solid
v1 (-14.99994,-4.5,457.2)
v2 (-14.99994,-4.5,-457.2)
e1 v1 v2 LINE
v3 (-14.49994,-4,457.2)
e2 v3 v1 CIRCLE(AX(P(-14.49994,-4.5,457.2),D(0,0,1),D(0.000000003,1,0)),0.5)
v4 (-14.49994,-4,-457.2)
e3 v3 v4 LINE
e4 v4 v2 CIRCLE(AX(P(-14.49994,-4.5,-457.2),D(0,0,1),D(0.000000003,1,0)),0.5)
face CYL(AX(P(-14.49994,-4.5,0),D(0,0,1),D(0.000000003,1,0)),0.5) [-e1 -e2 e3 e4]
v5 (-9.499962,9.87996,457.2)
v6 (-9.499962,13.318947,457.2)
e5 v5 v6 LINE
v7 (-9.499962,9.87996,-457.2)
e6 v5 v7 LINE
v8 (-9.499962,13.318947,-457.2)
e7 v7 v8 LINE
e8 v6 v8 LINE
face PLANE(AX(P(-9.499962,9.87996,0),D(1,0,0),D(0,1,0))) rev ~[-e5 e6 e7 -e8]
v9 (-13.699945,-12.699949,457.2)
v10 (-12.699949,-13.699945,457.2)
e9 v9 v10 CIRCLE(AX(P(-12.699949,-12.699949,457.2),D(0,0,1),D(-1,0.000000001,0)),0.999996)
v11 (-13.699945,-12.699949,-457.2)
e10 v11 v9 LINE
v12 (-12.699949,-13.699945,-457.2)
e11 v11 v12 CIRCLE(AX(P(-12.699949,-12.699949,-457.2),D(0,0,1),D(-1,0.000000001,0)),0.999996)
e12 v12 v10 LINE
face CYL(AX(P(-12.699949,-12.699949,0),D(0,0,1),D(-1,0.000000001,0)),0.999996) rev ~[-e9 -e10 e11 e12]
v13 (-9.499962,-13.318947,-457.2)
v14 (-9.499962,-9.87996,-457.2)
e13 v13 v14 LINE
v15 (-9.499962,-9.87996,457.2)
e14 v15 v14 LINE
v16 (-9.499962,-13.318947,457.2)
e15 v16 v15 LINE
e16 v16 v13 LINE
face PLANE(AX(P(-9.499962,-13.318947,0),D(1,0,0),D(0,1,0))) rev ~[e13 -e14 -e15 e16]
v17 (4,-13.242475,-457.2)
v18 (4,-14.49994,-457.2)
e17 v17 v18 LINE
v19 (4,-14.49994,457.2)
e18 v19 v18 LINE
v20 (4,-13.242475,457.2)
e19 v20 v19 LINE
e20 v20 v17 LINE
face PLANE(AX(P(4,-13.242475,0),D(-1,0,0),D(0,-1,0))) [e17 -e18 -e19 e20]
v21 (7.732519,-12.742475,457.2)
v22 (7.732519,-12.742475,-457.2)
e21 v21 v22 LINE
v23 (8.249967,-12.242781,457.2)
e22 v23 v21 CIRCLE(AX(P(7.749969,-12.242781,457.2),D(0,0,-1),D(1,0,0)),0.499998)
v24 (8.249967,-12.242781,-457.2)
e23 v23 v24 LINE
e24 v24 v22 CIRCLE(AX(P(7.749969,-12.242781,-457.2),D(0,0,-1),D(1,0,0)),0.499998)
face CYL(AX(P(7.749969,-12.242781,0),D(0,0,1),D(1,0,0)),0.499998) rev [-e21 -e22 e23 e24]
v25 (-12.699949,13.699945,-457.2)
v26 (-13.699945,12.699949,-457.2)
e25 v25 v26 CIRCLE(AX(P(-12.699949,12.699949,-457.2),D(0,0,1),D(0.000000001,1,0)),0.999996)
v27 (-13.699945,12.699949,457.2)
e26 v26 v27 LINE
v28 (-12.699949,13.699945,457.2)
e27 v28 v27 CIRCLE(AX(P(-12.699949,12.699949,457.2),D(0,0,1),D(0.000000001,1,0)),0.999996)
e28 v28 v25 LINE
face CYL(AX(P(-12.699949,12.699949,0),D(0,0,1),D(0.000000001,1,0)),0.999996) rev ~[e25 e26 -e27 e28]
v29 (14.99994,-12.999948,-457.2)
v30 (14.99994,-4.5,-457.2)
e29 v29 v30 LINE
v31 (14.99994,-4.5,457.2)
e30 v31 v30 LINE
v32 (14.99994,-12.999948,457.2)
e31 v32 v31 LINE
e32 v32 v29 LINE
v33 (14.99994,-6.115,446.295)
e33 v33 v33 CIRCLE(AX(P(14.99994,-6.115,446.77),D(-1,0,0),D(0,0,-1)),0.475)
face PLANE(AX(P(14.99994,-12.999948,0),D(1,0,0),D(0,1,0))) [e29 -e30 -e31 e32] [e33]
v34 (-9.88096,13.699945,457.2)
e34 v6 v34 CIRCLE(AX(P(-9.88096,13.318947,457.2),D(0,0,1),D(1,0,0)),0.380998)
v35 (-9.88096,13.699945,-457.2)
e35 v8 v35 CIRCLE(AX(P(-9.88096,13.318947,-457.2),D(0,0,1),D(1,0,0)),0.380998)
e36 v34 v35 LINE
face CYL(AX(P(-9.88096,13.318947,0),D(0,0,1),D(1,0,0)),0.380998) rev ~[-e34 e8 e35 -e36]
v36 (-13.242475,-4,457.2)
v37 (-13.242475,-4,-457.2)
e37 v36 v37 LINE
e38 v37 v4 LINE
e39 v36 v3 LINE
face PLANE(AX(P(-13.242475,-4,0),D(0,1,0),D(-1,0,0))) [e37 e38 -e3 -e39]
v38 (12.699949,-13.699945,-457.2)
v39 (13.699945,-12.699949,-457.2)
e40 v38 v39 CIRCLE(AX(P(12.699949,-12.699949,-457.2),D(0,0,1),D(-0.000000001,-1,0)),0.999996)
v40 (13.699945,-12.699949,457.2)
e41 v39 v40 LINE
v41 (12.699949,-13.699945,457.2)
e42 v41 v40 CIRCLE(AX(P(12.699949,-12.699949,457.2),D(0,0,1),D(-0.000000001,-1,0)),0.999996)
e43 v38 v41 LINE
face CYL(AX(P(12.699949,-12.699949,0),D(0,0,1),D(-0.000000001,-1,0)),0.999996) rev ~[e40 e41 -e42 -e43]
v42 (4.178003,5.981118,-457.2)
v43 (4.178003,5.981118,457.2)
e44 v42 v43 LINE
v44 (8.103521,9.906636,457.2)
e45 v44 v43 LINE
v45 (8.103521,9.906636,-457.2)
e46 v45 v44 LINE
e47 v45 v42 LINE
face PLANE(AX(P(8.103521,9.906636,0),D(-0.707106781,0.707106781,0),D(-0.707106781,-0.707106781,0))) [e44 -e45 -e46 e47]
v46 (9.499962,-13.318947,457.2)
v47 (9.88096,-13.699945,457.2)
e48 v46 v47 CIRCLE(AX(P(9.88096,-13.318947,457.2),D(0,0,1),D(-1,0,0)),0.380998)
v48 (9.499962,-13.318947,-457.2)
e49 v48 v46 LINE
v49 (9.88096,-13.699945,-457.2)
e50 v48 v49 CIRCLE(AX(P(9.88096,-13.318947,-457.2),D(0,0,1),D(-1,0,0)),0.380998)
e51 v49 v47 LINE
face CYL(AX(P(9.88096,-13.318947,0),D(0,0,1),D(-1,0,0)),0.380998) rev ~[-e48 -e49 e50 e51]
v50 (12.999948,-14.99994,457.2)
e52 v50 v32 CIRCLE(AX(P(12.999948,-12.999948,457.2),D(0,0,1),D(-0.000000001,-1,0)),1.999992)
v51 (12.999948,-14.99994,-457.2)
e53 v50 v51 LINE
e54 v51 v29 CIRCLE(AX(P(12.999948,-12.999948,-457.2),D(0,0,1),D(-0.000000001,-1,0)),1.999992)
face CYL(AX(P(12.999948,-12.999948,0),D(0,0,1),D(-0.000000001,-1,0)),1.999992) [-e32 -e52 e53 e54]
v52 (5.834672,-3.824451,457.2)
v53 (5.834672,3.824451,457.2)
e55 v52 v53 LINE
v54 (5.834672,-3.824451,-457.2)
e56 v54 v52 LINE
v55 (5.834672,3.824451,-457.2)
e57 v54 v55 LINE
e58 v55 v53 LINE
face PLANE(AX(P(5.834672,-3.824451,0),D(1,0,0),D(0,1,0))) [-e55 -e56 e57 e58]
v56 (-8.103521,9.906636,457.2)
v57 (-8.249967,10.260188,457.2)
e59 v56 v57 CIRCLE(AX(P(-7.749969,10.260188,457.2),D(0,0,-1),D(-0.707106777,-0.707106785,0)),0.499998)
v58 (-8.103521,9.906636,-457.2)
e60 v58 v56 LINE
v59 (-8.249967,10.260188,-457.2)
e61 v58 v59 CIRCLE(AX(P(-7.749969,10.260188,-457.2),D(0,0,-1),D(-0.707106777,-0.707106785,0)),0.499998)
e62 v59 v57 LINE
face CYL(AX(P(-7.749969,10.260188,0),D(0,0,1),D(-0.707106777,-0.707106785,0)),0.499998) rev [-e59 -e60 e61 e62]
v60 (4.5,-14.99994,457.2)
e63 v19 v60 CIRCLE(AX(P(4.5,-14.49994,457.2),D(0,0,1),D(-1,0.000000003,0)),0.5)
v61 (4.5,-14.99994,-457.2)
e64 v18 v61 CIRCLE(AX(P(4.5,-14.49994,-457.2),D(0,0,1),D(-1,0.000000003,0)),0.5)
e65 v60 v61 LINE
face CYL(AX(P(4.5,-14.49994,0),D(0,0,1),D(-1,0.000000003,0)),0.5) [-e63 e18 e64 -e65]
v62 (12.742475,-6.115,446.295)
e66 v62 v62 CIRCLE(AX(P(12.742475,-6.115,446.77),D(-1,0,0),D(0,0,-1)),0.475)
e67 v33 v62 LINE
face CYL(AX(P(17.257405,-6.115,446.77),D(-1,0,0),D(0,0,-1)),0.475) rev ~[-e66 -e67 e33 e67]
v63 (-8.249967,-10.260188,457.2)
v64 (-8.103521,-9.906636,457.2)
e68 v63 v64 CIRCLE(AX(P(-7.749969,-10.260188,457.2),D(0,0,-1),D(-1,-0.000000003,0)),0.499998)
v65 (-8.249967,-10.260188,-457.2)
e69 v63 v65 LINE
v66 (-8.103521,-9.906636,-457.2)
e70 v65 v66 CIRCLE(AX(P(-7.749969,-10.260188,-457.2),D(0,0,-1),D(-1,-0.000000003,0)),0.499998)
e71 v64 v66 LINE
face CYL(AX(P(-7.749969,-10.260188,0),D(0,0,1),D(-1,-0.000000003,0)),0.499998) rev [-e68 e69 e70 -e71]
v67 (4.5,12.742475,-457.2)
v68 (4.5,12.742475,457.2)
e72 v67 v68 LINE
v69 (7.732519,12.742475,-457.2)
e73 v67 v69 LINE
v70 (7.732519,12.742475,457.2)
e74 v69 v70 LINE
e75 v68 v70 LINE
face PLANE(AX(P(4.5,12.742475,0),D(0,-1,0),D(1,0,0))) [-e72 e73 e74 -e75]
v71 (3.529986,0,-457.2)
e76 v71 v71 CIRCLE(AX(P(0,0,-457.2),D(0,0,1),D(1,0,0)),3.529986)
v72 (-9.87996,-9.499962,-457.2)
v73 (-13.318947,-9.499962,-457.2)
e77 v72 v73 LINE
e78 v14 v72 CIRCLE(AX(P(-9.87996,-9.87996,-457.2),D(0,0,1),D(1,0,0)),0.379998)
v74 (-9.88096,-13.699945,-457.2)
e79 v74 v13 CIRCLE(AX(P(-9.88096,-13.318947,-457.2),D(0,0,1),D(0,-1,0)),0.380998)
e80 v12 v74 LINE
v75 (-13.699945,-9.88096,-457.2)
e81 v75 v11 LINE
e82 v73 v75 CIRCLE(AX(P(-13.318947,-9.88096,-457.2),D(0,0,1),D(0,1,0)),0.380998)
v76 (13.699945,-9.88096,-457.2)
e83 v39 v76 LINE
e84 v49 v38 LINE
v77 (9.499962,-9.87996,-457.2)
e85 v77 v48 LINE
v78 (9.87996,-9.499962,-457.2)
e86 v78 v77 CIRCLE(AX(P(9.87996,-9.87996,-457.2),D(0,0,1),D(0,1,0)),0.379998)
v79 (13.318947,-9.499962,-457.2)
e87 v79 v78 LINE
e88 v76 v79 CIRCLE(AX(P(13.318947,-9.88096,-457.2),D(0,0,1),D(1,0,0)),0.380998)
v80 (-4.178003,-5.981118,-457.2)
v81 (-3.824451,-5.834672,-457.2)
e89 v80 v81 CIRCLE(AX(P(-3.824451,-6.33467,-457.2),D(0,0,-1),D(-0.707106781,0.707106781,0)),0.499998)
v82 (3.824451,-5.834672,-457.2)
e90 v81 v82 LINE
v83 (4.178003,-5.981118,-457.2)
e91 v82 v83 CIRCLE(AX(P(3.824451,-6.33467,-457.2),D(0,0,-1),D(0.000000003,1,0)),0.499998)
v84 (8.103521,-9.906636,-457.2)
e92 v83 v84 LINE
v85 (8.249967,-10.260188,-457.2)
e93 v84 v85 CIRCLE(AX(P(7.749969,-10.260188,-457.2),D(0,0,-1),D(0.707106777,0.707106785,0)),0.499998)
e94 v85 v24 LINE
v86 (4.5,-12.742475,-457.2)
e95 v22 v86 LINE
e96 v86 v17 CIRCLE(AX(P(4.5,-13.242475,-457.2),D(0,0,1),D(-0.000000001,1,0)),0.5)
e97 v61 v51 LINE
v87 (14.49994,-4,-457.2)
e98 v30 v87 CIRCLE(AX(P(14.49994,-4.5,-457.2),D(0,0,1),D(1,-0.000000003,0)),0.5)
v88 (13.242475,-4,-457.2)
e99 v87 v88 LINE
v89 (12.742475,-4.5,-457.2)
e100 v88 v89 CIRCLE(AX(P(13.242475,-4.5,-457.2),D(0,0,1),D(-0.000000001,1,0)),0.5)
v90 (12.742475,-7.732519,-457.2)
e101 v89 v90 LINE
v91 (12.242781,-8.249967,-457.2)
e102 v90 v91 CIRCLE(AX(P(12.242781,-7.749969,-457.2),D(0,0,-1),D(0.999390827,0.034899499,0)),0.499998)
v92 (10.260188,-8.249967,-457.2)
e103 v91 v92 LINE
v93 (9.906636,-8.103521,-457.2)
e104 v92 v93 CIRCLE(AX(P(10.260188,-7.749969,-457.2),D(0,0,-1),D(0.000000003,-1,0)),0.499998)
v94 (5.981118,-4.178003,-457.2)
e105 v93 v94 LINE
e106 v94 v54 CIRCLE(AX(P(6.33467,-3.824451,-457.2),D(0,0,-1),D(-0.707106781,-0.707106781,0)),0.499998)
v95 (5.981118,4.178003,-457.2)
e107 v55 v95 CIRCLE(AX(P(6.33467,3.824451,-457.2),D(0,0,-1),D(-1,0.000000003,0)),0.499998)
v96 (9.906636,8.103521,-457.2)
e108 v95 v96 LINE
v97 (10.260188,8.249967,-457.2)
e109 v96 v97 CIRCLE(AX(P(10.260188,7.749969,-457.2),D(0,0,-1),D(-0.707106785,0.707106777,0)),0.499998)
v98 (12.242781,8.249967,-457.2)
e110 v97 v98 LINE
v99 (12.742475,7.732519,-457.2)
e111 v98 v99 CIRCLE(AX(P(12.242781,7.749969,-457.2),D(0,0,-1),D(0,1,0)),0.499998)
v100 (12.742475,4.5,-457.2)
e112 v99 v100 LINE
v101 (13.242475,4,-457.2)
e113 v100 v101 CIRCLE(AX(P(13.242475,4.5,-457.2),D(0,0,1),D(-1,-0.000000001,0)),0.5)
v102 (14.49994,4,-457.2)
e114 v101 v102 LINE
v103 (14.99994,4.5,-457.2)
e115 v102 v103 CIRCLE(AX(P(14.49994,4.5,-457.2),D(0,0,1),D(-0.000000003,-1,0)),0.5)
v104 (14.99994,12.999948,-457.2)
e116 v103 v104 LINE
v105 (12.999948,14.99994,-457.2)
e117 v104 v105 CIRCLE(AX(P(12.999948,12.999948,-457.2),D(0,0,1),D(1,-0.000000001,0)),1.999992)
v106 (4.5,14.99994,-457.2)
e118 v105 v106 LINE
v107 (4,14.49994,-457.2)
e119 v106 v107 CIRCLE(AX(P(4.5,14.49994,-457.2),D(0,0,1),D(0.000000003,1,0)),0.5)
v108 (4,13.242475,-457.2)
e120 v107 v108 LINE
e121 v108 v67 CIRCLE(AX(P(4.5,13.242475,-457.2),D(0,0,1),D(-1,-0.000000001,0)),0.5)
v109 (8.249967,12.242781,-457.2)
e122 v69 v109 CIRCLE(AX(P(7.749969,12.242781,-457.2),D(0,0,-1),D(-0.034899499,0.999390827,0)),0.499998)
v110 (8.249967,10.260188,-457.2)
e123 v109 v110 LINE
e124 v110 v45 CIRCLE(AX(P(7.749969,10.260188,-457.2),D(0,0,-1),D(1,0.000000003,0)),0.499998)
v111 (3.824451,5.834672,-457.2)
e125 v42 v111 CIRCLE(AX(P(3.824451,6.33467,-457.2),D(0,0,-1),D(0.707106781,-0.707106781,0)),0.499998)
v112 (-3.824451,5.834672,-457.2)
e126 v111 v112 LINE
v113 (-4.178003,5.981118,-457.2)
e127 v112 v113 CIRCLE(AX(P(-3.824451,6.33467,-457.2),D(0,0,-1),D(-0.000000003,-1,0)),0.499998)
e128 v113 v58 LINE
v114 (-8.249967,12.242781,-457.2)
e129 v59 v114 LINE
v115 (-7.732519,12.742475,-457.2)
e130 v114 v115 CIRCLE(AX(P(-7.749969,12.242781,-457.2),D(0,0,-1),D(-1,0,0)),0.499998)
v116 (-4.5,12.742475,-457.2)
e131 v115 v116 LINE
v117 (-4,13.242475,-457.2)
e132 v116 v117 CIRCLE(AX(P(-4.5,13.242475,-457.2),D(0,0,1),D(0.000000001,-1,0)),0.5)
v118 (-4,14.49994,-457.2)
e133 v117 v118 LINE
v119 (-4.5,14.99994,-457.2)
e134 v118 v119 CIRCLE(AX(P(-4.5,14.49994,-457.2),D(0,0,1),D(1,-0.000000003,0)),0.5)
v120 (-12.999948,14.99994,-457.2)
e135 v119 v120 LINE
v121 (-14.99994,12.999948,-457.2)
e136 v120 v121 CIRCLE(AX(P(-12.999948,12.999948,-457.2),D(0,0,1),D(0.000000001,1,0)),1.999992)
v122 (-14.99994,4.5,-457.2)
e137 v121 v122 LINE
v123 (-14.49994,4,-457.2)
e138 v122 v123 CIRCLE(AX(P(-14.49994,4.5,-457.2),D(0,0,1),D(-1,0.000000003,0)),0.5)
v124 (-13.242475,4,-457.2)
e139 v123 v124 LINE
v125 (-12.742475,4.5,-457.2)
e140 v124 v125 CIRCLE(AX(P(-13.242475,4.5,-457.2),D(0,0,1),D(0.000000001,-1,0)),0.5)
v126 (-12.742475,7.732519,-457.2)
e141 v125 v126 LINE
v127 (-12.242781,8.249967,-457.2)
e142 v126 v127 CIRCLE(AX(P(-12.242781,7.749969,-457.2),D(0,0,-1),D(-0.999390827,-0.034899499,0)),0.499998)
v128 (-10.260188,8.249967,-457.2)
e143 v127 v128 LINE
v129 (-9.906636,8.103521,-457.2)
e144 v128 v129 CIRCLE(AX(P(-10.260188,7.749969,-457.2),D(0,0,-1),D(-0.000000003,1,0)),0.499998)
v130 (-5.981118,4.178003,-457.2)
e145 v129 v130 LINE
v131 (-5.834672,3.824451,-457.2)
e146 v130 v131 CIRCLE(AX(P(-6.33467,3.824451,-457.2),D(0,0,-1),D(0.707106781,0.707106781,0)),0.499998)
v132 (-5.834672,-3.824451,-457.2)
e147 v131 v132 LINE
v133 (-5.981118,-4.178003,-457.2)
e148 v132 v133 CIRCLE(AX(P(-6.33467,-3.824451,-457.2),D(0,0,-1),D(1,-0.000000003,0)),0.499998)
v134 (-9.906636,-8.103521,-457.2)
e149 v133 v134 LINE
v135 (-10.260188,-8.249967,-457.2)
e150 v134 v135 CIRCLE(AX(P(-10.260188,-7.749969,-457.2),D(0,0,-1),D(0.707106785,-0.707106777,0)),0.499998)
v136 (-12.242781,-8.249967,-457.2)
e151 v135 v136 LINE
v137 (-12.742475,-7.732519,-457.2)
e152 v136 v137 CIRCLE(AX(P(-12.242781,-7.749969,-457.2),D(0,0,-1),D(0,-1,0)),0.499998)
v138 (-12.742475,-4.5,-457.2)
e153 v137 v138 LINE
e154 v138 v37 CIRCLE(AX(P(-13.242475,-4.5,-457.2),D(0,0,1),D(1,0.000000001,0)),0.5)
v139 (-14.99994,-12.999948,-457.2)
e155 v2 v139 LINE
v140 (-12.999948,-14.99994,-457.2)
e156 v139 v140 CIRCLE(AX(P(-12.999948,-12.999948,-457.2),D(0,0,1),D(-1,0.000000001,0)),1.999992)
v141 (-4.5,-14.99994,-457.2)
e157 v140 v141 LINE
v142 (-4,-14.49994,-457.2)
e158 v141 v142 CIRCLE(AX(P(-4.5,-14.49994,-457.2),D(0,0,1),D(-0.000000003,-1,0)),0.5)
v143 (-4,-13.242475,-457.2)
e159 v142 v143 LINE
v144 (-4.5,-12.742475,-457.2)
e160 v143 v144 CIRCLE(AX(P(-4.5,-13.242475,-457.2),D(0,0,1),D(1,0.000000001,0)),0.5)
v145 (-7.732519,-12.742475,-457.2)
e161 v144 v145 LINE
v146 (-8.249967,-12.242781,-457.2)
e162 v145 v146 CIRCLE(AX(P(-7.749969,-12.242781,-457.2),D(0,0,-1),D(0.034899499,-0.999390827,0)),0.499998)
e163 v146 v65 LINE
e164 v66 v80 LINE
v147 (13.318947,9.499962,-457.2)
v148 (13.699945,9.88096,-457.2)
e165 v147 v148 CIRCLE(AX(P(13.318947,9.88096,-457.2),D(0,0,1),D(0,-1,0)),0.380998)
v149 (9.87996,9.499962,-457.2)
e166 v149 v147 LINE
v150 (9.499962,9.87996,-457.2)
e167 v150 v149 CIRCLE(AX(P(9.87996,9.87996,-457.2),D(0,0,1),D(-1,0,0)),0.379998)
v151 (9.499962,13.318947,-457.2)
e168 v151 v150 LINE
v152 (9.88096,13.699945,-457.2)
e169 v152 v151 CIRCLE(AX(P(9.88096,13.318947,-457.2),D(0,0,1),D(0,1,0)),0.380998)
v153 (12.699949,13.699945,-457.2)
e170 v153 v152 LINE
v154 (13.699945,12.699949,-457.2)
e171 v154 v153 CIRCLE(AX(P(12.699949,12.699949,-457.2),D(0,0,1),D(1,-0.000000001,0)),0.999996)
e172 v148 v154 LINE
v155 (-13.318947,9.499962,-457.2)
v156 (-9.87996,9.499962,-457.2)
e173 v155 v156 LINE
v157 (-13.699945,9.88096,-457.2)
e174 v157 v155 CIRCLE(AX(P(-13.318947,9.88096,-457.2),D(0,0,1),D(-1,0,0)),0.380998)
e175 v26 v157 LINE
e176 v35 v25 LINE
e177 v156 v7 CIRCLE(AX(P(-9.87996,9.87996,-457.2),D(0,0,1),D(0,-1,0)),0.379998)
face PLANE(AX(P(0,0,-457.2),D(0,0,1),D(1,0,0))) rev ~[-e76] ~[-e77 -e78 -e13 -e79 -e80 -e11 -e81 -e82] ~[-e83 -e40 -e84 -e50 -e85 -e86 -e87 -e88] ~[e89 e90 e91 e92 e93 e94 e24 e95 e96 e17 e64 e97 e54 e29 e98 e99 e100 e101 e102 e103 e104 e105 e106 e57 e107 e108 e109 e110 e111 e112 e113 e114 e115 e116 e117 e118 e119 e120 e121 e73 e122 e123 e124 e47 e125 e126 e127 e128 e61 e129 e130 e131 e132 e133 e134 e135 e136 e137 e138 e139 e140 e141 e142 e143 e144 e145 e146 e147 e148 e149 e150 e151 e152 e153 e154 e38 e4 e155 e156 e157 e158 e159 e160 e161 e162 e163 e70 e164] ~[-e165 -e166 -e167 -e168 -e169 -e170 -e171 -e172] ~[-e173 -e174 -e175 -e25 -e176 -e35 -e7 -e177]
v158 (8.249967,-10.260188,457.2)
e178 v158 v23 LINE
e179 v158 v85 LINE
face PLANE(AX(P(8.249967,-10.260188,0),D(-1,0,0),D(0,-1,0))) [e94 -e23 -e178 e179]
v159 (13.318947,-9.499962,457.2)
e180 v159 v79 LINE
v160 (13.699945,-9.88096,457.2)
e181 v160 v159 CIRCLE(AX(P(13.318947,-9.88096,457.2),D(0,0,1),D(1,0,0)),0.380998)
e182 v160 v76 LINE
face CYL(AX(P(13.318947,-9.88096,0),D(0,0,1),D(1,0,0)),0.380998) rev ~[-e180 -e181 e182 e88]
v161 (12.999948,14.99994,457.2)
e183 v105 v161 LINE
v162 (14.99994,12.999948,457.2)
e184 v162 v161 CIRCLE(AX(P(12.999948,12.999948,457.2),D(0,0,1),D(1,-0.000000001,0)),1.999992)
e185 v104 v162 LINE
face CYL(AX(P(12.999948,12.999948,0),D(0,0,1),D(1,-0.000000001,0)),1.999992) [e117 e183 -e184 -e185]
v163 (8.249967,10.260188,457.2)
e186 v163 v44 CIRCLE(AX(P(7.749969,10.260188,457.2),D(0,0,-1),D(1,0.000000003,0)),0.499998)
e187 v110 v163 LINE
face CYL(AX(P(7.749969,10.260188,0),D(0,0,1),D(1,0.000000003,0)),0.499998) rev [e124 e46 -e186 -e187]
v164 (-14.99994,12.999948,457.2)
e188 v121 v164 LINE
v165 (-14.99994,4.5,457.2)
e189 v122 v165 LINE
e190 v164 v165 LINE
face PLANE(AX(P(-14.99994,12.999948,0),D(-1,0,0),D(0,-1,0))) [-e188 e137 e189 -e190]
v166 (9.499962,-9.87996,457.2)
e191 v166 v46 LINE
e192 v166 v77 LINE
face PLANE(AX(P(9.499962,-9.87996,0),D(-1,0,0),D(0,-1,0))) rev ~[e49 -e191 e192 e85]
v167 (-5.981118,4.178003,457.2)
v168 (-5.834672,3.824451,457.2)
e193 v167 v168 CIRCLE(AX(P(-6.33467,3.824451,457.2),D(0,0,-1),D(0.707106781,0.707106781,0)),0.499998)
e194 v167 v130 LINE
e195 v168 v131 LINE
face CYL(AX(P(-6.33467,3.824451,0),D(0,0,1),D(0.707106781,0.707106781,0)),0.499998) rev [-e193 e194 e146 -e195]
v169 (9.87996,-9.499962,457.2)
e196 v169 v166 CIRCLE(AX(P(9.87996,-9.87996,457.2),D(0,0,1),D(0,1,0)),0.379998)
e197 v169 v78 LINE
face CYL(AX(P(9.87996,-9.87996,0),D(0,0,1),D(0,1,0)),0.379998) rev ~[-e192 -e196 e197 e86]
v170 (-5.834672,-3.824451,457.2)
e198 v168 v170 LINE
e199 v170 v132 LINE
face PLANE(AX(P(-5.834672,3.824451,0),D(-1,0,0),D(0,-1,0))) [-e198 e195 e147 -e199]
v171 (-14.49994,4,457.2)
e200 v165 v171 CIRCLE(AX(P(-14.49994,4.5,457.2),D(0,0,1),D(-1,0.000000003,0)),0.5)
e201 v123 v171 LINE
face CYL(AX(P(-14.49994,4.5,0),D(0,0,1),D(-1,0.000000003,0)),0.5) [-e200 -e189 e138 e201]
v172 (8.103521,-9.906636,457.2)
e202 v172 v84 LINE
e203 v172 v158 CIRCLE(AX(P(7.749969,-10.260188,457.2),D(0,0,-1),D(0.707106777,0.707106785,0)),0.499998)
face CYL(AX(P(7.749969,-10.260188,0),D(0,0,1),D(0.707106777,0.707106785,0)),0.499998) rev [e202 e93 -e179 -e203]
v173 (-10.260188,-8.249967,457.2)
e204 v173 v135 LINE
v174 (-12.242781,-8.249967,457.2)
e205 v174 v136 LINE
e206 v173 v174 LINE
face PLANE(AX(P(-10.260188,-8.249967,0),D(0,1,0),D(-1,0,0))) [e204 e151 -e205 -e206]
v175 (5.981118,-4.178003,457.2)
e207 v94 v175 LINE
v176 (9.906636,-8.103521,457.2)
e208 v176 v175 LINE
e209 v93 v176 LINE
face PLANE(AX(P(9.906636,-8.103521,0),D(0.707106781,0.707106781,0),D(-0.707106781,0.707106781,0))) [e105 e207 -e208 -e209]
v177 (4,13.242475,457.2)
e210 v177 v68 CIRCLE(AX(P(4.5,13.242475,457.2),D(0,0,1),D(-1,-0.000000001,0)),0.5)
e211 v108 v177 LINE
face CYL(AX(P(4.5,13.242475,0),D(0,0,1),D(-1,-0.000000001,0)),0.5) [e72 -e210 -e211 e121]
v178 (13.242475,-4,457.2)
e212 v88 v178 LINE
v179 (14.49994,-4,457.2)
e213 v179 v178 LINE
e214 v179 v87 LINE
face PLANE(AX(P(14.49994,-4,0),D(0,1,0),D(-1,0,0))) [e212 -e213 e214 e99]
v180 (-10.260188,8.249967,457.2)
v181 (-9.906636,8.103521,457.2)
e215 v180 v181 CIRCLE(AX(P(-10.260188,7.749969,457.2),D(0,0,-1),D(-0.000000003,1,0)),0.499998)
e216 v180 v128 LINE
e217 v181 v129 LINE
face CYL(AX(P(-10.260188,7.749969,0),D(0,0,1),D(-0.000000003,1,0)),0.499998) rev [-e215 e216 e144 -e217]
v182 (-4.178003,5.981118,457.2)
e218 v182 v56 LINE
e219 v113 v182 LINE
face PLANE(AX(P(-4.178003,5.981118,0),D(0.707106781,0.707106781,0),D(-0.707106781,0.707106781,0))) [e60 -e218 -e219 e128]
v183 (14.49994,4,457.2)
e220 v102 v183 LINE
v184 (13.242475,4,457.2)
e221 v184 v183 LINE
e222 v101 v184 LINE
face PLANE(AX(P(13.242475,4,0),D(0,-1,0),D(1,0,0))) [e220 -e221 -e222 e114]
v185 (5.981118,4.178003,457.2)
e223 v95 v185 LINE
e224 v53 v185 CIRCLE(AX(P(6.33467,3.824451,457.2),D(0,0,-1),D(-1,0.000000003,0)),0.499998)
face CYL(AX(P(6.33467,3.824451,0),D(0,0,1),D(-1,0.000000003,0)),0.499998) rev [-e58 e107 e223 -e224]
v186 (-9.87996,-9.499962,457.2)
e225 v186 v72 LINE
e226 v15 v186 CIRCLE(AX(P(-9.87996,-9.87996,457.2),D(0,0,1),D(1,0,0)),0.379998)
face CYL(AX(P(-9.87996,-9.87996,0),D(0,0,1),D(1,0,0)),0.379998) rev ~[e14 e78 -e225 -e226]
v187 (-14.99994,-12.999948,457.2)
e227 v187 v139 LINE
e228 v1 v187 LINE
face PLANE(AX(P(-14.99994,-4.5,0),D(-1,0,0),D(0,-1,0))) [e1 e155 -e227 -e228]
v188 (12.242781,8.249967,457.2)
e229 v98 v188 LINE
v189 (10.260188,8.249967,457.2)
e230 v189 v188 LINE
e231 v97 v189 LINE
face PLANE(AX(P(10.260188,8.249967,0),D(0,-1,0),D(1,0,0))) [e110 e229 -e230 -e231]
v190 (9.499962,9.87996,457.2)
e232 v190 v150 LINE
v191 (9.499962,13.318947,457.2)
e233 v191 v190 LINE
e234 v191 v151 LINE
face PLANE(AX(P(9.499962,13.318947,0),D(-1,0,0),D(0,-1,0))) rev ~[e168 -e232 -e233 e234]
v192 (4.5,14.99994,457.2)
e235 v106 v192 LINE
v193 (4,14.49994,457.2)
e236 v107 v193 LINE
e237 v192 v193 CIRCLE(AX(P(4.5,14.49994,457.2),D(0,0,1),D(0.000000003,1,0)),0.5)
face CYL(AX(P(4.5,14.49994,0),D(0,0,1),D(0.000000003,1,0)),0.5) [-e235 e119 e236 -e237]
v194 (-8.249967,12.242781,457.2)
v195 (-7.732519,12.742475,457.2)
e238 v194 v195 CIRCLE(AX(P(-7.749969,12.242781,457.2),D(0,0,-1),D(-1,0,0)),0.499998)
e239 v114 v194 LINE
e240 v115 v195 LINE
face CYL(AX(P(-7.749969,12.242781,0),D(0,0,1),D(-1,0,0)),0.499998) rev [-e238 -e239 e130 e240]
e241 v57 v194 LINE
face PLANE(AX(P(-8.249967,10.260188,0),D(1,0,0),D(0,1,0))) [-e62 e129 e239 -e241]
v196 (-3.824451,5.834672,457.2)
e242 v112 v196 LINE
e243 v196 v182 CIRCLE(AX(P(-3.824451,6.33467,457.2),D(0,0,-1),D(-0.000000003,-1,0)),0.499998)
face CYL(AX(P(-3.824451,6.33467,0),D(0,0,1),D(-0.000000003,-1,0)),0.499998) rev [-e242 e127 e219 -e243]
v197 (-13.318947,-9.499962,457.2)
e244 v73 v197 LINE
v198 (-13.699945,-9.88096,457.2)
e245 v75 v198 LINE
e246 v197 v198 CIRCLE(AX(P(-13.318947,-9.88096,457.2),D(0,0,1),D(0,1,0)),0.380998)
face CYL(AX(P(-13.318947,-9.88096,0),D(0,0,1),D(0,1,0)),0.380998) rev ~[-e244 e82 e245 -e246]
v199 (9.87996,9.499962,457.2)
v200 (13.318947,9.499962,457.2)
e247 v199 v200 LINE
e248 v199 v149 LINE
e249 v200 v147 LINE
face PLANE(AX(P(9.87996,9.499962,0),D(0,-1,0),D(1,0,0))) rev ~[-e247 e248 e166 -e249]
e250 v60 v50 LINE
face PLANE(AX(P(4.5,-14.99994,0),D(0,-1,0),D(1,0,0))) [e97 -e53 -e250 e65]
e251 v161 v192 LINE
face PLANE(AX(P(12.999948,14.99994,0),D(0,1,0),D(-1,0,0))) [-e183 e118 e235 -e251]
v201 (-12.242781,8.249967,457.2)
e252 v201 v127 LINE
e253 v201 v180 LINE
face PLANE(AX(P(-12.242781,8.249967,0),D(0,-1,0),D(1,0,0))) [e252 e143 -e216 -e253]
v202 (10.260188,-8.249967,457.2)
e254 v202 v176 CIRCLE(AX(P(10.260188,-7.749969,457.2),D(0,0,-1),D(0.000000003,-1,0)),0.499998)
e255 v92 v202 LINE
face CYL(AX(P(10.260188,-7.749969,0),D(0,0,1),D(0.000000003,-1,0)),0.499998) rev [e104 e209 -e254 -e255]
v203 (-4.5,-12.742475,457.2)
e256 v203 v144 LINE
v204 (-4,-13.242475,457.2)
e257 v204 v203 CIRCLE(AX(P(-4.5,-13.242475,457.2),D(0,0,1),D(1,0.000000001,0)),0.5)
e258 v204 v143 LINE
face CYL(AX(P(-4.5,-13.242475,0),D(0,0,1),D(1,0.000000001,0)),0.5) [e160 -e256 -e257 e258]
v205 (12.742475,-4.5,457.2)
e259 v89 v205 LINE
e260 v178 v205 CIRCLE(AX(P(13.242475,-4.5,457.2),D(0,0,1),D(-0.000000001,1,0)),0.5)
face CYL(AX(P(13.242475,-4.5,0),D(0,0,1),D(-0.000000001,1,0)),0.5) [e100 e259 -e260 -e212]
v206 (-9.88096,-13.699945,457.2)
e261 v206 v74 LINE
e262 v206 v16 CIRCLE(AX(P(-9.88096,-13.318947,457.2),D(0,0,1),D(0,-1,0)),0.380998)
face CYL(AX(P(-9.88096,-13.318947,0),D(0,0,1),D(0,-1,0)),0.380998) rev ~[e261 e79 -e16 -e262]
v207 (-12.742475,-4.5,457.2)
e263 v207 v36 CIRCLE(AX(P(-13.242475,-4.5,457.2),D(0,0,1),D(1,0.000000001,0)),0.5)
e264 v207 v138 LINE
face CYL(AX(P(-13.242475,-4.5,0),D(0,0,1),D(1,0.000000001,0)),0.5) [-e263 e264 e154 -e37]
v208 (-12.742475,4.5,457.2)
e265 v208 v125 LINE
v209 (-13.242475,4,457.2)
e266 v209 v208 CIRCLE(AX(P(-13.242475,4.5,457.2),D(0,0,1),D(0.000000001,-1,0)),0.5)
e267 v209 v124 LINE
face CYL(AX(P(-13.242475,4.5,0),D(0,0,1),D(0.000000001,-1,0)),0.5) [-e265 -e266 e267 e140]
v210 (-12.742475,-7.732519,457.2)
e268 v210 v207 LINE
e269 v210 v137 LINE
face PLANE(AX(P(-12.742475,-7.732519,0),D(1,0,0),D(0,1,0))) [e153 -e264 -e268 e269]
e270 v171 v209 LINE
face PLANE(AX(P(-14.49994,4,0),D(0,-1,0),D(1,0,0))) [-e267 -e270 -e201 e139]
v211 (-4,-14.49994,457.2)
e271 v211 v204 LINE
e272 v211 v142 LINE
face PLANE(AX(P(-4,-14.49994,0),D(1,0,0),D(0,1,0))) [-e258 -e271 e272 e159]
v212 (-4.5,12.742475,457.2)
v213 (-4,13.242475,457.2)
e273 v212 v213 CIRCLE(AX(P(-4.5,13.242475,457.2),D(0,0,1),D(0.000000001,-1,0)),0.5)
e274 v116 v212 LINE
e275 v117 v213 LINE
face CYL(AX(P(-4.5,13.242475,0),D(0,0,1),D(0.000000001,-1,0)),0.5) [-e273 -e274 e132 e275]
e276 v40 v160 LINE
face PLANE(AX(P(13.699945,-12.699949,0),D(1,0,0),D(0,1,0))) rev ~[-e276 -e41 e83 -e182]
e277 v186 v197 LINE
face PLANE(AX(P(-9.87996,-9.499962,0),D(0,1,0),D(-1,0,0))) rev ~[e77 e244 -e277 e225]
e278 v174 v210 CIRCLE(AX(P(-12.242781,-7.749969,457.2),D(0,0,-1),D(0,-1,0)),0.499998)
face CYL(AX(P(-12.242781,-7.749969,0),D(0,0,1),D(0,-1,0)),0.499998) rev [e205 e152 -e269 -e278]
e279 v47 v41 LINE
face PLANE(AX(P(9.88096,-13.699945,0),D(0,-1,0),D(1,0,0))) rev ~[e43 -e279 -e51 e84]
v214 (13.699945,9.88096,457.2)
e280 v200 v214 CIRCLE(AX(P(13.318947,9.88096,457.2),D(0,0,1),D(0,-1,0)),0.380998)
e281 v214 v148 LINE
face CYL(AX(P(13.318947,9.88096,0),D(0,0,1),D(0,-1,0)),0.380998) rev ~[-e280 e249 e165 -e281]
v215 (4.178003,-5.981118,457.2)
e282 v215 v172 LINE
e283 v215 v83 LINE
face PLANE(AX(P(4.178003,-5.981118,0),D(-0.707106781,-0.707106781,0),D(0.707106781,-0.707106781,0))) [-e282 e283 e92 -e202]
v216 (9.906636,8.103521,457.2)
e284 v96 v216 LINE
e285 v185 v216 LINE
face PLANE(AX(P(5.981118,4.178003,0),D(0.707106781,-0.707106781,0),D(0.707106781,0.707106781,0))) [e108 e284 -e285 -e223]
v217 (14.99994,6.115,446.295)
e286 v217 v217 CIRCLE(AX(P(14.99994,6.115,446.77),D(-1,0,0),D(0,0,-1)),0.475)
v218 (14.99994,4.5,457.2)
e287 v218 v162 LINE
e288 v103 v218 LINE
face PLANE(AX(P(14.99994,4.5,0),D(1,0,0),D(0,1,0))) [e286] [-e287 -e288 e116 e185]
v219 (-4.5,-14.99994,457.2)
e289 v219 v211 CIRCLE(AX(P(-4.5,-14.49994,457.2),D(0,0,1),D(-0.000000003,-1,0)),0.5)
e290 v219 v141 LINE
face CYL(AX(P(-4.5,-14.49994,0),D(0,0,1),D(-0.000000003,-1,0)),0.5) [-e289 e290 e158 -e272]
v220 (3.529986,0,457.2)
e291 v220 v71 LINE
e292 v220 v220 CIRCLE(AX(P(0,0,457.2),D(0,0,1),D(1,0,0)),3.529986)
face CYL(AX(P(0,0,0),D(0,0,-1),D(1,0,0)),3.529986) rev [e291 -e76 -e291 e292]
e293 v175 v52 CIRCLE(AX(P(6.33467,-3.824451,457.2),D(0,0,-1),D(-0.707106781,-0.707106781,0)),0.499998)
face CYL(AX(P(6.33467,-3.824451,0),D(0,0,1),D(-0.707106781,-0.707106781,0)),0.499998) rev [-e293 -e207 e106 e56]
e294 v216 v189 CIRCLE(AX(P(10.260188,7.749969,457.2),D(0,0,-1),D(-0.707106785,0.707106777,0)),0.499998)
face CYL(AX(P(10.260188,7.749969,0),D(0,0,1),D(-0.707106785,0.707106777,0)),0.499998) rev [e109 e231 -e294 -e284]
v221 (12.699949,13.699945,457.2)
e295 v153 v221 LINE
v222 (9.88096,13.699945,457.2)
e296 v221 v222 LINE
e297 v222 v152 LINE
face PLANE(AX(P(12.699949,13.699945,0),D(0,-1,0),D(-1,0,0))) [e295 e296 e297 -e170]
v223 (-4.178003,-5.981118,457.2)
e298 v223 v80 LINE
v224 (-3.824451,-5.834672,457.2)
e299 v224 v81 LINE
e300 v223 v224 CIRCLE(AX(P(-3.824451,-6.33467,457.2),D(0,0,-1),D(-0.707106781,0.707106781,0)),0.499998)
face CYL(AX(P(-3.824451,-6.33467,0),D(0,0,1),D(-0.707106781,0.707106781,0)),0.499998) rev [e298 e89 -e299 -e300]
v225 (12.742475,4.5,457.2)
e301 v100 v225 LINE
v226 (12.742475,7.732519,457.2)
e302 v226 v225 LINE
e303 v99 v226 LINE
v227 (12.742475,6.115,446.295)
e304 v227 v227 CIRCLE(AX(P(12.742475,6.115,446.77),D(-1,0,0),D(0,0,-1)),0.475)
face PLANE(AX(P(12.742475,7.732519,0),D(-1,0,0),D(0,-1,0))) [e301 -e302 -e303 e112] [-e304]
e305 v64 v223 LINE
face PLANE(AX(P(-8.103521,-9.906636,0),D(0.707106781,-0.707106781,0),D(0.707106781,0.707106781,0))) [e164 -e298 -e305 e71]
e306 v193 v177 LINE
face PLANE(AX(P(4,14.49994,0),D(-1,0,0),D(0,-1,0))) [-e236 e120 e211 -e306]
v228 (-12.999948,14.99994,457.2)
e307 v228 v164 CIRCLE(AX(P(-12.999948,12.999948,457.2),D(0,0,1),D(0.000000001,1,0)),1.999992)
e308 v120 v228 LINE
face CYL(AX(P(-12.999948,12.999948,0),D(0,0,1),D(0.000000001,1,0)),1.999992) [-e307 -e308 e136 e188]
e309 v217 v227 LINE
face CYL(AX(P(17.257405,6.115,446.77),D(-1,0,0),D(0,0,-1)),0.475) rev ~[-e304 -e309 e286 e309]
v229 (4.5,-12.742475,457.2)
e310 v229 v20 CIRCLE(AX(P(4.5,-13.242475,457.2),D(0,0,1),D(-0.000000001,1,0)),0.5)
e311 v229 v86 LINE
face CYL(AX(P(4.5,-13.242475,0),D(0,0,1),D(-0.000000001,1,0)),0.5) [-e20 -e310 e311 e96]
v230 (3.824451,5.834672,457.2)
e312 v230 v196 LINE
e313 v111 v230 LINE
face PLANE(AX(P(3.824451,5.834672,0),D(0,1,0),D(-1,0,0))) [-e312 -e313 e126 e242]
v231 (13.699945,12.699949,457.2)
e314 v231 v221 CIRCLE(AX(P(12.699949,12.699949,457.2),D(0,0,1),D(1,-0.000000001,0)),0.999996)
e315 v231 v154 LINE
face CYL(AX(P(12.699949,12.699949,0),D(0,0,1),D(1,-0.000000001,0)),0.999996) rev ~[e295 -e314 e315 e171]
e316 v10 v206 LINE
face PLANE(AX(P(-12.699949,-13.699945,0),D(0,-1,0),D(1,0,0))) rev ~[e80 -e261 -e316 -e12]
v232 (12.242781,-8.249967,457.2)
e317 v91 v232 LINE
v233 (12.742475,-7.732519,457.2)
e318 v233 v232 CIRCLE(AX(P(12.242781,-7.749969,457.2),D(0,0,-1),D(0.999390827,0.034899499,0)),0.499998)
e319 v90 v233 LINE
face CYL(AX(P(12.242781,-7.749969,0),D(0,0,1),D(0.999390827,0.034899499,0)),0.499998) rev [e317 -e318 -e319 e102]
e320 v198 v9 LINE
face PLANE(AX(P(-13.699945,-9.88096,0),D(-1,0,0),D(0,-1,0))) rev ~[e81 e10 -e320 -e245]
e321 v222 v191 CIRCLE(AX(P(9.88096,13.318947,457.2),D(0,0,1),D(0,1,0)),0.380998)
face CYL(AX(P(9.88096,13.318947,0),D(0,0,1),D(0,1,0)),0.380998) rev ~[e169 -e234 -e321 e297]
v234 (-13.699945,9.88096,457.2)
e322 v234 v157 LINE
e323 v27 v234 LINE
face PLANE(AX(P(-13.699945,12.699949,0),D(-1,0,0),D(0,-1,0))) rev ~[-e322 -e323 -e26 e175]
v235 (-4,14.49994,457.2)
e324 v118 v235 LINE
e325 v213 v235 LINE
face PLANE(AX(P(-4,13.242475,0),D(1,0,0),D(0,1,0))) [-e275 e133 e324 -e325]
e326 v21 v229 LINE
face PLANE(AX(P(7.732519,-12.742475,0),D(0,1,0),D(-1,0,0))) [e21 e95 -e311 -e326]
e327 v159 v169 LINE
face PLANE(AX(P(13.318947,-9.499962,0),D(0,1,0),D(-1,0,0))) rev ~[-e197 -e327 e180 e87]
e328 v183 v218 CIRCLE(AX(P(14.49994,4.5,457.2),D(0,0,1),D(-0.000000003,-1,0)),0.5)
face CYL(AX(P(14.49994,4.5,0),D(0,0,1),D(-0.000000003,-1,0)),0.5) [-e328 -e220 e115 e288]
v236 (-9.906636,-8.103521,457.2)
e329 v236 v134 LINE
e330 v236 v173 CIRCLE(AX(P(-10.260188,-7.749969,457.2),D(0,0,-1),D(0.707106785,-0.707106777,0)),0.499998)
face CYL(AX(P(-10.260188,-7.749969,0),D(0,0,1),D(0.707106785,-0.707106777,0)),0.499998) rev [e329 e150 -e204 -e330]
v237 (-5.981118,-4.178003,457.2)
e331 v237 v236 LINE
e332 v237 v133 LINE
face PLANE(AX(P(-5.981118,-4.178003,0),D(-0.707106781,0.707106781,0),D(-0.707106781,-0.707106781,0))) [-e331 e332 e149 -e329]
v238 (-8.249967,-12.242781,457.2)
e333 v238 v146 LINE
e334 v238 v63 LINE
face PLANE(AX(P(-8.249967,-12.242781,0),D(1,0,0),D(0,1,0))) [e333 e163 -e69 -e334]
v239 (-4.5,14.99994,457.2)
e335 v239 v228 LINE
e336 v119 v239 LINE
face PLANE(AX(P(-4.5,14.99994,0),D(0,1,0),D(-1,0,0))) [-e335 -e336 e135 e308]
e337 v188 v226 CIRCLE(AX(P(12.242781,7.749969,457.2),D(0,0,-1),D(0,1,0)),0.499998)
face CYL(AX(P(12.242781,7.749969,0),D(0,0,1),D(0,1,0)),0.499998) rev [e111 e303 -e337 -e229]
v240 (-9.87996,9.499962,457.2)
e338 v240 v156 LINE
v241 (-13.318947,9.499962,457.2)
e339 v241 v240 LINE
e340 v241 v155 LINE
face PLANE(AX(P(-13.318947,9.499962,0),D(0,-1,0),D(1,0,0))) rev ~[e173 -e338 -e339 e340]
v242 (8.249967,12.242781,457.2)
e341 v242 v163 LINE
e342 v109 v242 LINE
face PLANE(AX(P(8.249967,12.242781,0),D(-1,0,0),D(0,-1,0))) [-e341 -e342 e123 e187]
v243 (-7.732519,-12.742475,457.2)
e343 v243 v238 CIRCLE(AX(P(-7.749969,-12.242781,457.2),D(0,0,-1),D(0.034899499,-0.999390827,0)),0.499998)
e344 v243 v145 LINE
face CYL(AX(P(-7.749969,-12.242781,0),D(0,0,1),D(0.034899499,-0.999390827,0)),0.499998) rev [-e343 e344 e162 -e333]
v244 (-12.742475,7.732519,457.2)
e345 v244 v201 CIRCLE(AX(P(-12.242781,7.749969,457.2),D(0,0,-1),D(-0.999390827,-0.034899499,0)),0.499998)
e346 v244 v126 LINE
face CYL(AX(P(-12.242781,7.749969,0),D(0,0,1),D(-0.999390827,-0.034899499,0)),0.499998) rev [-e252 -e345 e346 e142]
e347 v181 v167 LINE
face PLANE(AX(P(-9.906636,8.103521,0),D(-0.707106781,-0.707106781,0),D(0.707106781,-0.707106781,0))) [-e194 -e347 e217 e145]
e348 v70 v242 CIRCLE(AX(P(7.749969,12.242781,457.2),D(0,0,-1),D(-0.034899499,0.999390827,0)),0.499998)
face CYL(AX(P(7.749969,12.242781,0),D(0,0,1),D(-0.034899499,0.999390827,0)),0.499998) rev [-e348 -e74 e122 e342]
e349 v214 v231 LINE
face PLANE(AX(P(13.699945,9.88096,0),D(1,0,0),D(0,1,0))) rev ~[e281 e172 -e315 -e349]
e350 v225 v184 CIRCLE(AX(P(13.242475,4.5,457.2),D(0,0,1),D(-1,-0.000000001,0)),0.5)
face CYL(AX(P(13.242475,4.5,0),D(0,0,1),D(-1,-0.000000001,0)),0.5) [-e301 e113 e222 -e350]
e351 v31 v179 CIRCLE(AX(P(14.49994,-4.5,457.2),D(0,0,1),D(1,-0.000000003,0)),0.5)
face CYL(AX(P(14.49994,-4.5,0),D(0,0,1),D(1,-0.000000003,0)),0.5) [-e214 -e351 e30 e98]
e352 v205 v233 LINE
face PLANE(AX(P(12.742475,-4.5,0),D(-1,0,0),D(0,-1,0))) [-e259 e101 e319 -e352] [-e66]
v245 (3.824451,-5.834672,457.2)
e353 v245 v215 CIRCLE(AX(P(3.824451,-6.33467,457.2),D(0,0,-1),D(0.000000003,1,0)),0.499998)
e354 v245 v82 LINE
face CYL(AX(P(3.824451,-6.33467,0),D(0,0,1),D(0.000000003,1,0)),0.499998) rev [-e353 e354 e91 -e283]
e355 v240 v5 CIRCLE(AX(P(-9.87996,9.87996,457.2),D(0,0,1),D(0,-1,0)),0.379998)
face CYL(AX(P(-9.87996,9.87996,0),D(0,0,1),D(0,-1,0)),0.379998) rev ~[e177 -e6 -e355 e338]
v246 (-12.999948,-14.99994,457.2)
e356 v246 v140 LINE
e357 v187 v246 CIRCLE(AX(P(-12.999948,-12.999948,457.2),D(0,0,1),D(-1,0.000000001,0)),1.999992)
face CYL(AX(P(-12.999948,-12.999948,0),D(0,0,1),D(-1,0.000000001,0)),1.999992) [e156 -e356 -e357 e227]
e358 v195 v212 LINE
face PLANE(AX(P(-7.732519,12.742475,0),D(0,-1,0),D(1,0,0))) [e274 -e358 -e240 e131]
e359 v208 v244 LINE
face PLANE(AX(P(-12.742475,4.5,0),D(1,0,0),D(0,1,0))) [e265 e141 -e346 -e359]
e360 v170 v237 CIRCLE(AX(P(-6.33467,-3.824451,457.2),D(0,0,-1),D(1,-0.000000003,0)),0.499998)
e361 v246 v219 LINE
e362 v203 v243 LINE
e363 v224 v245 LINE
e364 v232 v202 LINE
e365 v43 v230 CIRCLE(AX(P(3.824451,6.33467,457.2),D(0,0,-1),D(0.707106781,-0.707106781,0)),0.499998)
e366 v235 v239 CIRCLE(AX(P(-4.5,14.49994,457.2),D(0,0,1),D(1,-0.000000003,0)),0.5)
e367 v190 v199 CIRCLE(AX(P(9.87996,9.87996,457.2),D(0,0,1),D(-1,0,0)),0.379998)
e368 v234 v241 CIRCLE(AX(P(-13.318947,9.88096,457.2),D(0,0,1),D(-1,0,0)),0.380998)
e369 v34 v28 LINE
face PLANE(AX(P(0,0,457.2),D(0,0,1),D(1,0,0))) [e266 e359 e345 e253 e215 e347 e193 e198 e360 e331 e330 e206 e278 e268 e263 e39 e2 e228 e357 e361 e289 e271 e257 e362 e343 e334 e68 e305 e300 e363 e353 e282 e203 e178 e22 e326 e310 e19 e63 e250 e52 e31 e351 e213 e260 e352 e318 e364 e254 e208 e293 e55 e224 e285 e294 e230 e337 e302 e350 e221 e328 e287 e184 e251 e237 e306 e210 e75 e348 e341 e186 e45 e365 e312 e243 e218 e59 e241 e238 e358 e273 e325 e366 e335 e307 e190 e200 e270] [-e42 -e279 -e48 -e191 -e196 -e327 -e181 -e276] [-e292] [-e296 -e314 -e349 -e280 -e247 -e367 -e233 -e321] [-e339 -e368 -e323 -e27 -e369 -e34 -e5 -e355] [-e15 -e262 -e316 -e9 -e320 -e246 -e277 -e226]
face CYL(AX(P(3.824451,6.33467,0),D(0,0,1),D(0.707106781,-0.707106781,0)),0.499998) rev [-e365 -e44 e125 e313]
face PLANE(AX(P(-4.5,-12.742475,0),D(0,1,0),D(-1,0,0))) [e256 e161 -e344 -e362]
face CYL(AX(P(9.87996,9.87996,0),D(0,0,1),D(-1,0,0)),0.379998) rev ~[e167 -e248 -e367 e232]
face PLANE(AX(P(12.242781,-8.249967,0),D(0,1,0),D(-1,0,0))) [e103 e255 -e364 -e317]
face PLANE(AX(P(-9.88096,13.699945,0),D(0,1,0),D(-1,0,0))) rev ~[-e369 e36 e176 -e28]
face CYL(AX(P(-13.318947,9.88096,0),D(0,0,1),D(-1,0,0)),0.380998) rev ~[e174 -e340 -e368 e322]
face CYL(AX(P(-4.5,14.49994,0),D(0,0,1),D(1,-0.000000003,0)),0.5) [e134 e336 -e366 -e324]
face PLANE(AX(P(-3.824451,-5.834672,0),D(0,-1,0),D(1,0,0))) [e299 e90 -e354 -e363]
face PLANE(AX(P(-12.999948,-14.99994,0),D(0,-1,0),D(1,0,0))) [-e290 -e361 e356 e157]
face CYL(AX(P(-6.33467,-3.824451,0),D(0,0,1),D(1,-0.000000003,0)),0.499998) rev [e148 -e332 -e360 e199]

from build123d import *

# Parameters (mm, degrees)
SKETCH1_R                    = 3.52998588
BOSS_EXTRUDE1_DEPTH          = 457.2
M1_2X0_25_TAPPED_HOLE1_D     = 0.95
M1_2X0_25_TAPPED_HOLE1_DEPTH = 2.25746535


with BuildPart() as part:
    # Sketch1 → Boss-Extrude1 (new, symmetric)
    with BuildSketch(Plane.XY):
        with BuildLine():
            Line((14.49994, -4), (13.24247465, -4))
            ThreePointArc((13.24247465, -4), (12.88892126, -4.146446609), (12.74247465, -4.5))
            Line((12.74247465, -4.5), (12.74247465, -7.732519321))
            ThreePointArc((12.74247465, -7.732519321), (12.602449697, -8.097296796), (12.242781236, -8.249967))
            Line((12.242781236, -8.249967), (10.260188032, -8.249967))
            ThreePointArc((10.260188032, -8.249967), (10.068847082, -8.211906919), (9.906636056, -8.103520976))
            Line((9.906636056, -8.103520976), (5.981117769, -4.178002689))
            ThreePointArc((5.981117769, -4.178002689), (5.872731827, -4.015791664), (5.834671745, -3.824450713))
            Line((5.834671745, -3.824450713), (5.834671745, -1.01249595))
            Line((5.834671745, -1.01249595), (5.834671745, 0.88749645))
            Line((5.834671745, 0.88749645), (5.834671745, 3.824450713))
            ThreePointArc((5.834671745, 3.824450713), (5.872731827, 4.015791664), (5.981117769, 4.178002689))
            Line((5.981117769, 4.178002689), (9.906636056, 8.103520976))
            ThreePointArc((9.906636056, 8.103520976), (10.068847082, 8.211906919), (10.260188032, 8.249967))
            Line((10.260188032, 8.249967), (12.242781236, 8.249967))
            ThreePointArc((12.242781236, 8.249967), (12.602449697, 8.097296796), (12.74247465, 7.732519321))
            Line((12.74247465, 7.732519321), (12.74247465, 4.5))
            ThreePointArc((12.74247465, 4.5), (12.88892126, 4.146446609), (13.24247465, 4))
            Line((13.24247465, 4), (14.49994, 4))
            ThreePointArc((14.49994, 4), (14.853493391, 4.146446609), (14.99994, 4.5))
            Line((14.99994, 4.5), (14.99994, 12.999948))
            ThreePointArc((14.99994, 12.999948), (14.414155906, 14.414155906), (12.999948, 14.99994))
            Line((12.999948, 14.99994), (4.5, 14.99994))
            ThreePointArc((4.5, 14.99994), (4.146446609, 14.853493391), (4, 14.49994))
            Line((4, 14.49994), (4, 13.24247465))
            ThreePointArc((4, 13.24247465), (4.146446609, 12.88892126), (4.5, 12.74247465))
            Line((4.5, 12.74247465), (7.732519321, 12.74247465))
            ThreePointArc((7.732519321, 12.74247465), (8.097296796, 12.602449697), (8.249967, 12.242781236))
            Line((8.249967, 12.242781236), (8.249967, 10.260188032))
            ThreePointArc((8.249967, 10.260188032), (8.211906919, 10.068847082), (8.103520976, 9.906636056))
            Line((8.103520976, 9.906636056), (4.178002689, 5.981117769))
            ThreePointArc((4.178002689, 5.981117769), (4.015791664, 5.872731827), (3.824450713, 5.834671745))
            Line((3.824450713, 5.834671745), (0.9499962, 5.834671745))
            Line((0.9499962, 5.834671745), (-0.9499962, 5.834671745))
            Line((-0.9499962, 5.834671745), (-3.824450713, 5.834671745))
            ThreePointArc((-3.824450713, 5.834671745), (-4.015791664, 5.872731827), (-4.178002689, 5.981117769))
            Line((-4.178002689, 5.981117769), (-8.103520976, 9.906636056))
            ThreePointArc((-8.103520976, 9.906636056), (-8.211906919, 10.068847082), (-8.249967, 10.260188032))
            Line((-8.249967, 10.260188032), (-8.249967, 12.242781236))
            ThreePointArc((-8.249967, 12.242781236), (-8.097296796, 12.602449697), (-7.732519321, 12.74247465))
            Line((-7.732519321, 12.74247465), (-4.5, 12.74247465))
            ThreePointArc((-4.5, 12.74247465), (-4.146446609, 12.88892126), (-4, 13.24247465))
            Line((-4, 13.24247465), (-4, 14.49994))
            ThreePointArc((-4, 14.49994), (-4.146446609, 14.853493391), (-4.5, 14.99994))
            Line((-4.5, 14.99994), (-12.999948, 14.99994))
            ThreePointArc((-12.999948, 14.99994), (-14.414155906, 14.414155906), (-14.99994, 12.999948))
            Line((-14.99994, 12.999948), (-14.99994, 4.5))
            ThreePointArc((-14.99994, 4.5), (-14.853493391, 4.146446609), (-14.49994, 4))
            Line((-14.49994, 4), (-13.24247465, 4))
            ThreePointArc((-13.24247465, 4), (-12.88892126, 4.146446609), (-12.74247465, 4.5))
            Line((-12.74247465, 4.5), (-12.74247465, 7.732519321))
            ThreePointArc((-12.74247465, 7.732519321), (-12.602449697, 8.097296796), (-12.242781236, 8.249967))
            Line((-12.242781236, 8.249967), (-10.260188032, 8.249967))
            ThreePointArc((-10.260188032, 8.249967), (-10.068847082, 8.211906919), (-9.906636056, 8.103520976))
            Line((-9.906636056, 8.103520976), (-5.981117769, 4.178002689))
            ThreePointArc((-5.981117769, 4.178002689), (-5.872731827, 4.015791664), (-5.834671745, 3.824450713))
            Line((-5.834671745, 3.824450713), (-5.834671745, 0.88749645))
            Line((-5.834671745, 0.88749645), (-5.834671745, -1.01249595))
            Line((-5.834671745, -1.01249595), (-5.834671745, -3.824450713))
            ThreePointArc((-5.834671745, -3.824450713), (-5.872731827, -4.015791664), (-5.981117769, -4.178002689))
            Line((-5.981117769, -4.178002689), (-9.906636056, -8.103520976))
            ThreePointArc((-9.906636056, -8.103520976), (-10.068847082, -8.211906919), (-10.260188032, -8.249967))
            Line((-10.260188032, -8.249967), (-12.242781236, -8.249967))
            ThreePointArc((-12.242781236, -8.249967), (-12.602449697, -8.097296796), (-12.74247465, -7.732519321))
            Line((-12.74247465, -7.732519321), (-12.74247465, -4.5))
            ThreePointArc((-12.74247465, -4.5), (-12.88892126, -4.146446609), (-13.24247465, -4))
            Line((-13.24247465, -4), (-14.49994, -4))
            ThreePointArc((-14.49994, -4), (-14.853493391, -4.146446609), (-14.99994, -4.5))
            Line((-14.99994, -4.5), (-14.99994, -12.999948))
            ThreePointArc((-14.99994, -12.999948), (-14.414155906, -14.414155906), (-12.999948, -14.99994))
            Line((-12.999948, -14.99994), (-4.5, -14.99994))
            ThreePointArc((-4.5, -14.99994), (-4.146446609, -14.853493391), (-4, -14.49994))
            Line((-4, -14.49994), (-4, -13.24247465))
            ThreePointArc((-4, -13.24247465), (-4.146446609, -12.88892126), (-4.5, -12.74247465))
            Line((-4.5, -12.74247465), (-7.732519321, -12.74247465))
            ThreePointArc((-7.732519321, -12.74247465), (-8.097296796, -12.602449697), (-8.249967, -12.242781236))
            Line((-8.249967, -12.242781236), (-8.249967, -10.260188032))
            ThreePointArc((-8.249967, -10.260188032), (-8.211906919, -10.068847082), (-8.103520976, -9.906636056))
            Line((-8.103520976, -9.906636056), (-4.178002689, -5.981117769))
            ThreePointArc((-4.178002689, -5.981117769), (-4.015791664, -5.872731827), (-3.824450713, -5.834671745))
            Line((-3.824450713, -5.834671745), (-0.9499962, -5.834671745))
            Line((-0.9499962, -5.834671745), (0.9499962, -5.834671745))
            Line((0.9499962, -5.834671745), (3.824450713, -5.834671745))
            ThreePointArc((3.824450713, -5.834671745), (4.015791664, -5.872731827), (4.178002689, -5.981117769))
            Line((4.178002689, -5.981117769), (8.103520976, -9.906636056))
            ThreePointArc((8.103520976, -9.906636056), (8.211906919, -10.068847082), (8.249967, -10.260188032))
            Line((8.249967, -10.260188032), (8.249967, -12.242781236))
            ThreePointArc((8.249967, -12.242781236), (8.097296796, -12.602449697), (7.732519321, -12.74247465))
            Line((7.732519321, -12.74247465), (4.5, -12.74247465))
            ThreePointArc((4.5, -12.74247465), (4.146446609, -12.88892126), (4, -13.24247465))
            Line((4, -13.24247465), (4, -14.49994))
            ThreePointArc((4, -14.49994), (4.146446609, -14.853493391), (4.5, -14.99994))
            Line((4.5, -14.99994), (12.999948, -14.99994))
            ThreePointArc((12.999948, -14.99994), (14.414155906, -14.414155906), (14.99994, -12.999948))
            Line((14.99994, -12.999948), (14.99994, -4.5))
            ThreePointArc((14.99994, -4.5), (14.853493391, -4.146446609), (14.49994, -4))
        make_face()
        Circle(SKETCH1_R, mode=Mode.SUBTRACT)
        with BuildLine():
            Line((-12.6999492, -13.6999452), (-9.880960476, -13.6999452))
            ThreePointArc((-9.880960476, -13.6999452), (-9.61155387, -13.58835333), (-9.499962, -13.318946724))
            Line((-9.499962, -13.318946724), (-9.499962, -9.87996048))
            ThreePointArc((-9.499962, -9.87996048), (-9.611260978, -9.611260978), (-9.87996048, -9.499962))
            Line((-9.87996048, -9.499962), (-13.318946724, -9.499962))
            ThreePointArc((-13.318946724, -9.499962), (-13.58835333, -9.61155387), (-13.6999452, -9.880960476))
            Line((-13.6999452, -9.880960476), (-13.6999452, -12.6999492))
            ThreePointArc((-13.6999452, -12.6999492), (-13.407053153, -13.407053153), (-12.6999492, -13.6999452))
        make_face(mode=Mode.SUBTRACT)
        with BuildLine():
            Line((13.6999452, -12.6999492), (13.6999452, -9.880960476))
            ThreePointArc((13.6999452, -9.880960476), (13.58835333, -9.61155387), (13.318946724, -9.499962))
            Line((13.318946724, -9.499962), (9.87996048, -9.499962))
            ThreePointArc((9.87996048, -9.499962), (9.611260978, -9.611260978), (9.499962, -9.87996048))
            Line((9.499962, -9.87996048), (9.499962, -13.318946724))
            ThreePointArc((9.499962, -13.318946724), (9.61155387, -13.58835333), (9.880960476, -13.6999452))
            Line((9.880960476, -13.6999452), (12.6999492, -13.6999452))
            ThreePointArc((12.6999492, -13.6999452), (13.407053153, -13.407053153), (13.6999452, -12.6999492))
        make_face(mode=Mode.SUBTRACT)
        with BuildLine():
            Line((9.87996048, 9.499962), (13.318946724, 9.499962))
            ThreePointArc((13.318946724, 9.499962), (13.58835333, 9.61155387), (13.6999452, 9.880960476))
            Line((13.6999452, 9.880960476), (13.6999452, 12.6999492))
            ThreePointArc((13.6999452, 12.6999492), (13.407053153, 13.407053153), (12.6999492, 13.6999452))
            Line((12.6999492, 13.6999452), (9.880960476, 13.6999452))
            ThreePointArc((9.880960476, 13.6999452), (9.61155387, 13.58835333), (9.499962, 13.318946724))
            Line((9.499962, 13.318946724), (9.499962, 9.87996048))
            ThreePointArc((9.499962, 9.87996048), (9.611260978, 9.611260978), (9.87996048, 9.499962))
        make_face(mode=Mode.SUBTRACT)
        with BuildLine():
            Line((-13.6999452, 12.6999492), (-13.6999452, 9.880960476))
            ThreePointArc((-13.6999452, 9.880960476), (-13.58835333, 9.61155387), (-13.318946724, 9.499962))
            Line((-13.318946724, 9.499962), (-9.87996048, 9.499962))
            ThreePointArc((-9.87996048, 9.499962), (-9.611260978, 9.611260978), (-9.499962, 9.87996048))
            Line((-9.499962, 9.87996048), (-9.499962, 13.318946724))
            ThreePointArc((-9.499962, 13.318946724), (-9.61155387, 13.58835333), (-9.880960476, 13.6999452))
            Line((-9.880960476, 13.6999452), (-12.6999492, 13.6999452))
            ThreePointArc((-12.6999492, 13.6999452), (-13.407053153, 13.407053153), (-13.6999452, 12.6999492))
        make_face(mode=Mode.SUBTRACT)
    extrude(amount=BOSS_EXTRUDE1_DEPTH, both=True)

    # M1.2x0.25 Tapped Hole1
    with Locations(Plane(origin=(14.99994, 6.115, 446.77), x_dir=(0, 0, 1), z_dir=(1, 0, 0))):
        with Locations((0, 0), (0, 12.23)):
            Hole(M1_2X0_25_TAPPED_HOLE1_D / 2, depth=M1_2X0_25_TAPPED_HOLE1_DEPTH)


solid = part.part
